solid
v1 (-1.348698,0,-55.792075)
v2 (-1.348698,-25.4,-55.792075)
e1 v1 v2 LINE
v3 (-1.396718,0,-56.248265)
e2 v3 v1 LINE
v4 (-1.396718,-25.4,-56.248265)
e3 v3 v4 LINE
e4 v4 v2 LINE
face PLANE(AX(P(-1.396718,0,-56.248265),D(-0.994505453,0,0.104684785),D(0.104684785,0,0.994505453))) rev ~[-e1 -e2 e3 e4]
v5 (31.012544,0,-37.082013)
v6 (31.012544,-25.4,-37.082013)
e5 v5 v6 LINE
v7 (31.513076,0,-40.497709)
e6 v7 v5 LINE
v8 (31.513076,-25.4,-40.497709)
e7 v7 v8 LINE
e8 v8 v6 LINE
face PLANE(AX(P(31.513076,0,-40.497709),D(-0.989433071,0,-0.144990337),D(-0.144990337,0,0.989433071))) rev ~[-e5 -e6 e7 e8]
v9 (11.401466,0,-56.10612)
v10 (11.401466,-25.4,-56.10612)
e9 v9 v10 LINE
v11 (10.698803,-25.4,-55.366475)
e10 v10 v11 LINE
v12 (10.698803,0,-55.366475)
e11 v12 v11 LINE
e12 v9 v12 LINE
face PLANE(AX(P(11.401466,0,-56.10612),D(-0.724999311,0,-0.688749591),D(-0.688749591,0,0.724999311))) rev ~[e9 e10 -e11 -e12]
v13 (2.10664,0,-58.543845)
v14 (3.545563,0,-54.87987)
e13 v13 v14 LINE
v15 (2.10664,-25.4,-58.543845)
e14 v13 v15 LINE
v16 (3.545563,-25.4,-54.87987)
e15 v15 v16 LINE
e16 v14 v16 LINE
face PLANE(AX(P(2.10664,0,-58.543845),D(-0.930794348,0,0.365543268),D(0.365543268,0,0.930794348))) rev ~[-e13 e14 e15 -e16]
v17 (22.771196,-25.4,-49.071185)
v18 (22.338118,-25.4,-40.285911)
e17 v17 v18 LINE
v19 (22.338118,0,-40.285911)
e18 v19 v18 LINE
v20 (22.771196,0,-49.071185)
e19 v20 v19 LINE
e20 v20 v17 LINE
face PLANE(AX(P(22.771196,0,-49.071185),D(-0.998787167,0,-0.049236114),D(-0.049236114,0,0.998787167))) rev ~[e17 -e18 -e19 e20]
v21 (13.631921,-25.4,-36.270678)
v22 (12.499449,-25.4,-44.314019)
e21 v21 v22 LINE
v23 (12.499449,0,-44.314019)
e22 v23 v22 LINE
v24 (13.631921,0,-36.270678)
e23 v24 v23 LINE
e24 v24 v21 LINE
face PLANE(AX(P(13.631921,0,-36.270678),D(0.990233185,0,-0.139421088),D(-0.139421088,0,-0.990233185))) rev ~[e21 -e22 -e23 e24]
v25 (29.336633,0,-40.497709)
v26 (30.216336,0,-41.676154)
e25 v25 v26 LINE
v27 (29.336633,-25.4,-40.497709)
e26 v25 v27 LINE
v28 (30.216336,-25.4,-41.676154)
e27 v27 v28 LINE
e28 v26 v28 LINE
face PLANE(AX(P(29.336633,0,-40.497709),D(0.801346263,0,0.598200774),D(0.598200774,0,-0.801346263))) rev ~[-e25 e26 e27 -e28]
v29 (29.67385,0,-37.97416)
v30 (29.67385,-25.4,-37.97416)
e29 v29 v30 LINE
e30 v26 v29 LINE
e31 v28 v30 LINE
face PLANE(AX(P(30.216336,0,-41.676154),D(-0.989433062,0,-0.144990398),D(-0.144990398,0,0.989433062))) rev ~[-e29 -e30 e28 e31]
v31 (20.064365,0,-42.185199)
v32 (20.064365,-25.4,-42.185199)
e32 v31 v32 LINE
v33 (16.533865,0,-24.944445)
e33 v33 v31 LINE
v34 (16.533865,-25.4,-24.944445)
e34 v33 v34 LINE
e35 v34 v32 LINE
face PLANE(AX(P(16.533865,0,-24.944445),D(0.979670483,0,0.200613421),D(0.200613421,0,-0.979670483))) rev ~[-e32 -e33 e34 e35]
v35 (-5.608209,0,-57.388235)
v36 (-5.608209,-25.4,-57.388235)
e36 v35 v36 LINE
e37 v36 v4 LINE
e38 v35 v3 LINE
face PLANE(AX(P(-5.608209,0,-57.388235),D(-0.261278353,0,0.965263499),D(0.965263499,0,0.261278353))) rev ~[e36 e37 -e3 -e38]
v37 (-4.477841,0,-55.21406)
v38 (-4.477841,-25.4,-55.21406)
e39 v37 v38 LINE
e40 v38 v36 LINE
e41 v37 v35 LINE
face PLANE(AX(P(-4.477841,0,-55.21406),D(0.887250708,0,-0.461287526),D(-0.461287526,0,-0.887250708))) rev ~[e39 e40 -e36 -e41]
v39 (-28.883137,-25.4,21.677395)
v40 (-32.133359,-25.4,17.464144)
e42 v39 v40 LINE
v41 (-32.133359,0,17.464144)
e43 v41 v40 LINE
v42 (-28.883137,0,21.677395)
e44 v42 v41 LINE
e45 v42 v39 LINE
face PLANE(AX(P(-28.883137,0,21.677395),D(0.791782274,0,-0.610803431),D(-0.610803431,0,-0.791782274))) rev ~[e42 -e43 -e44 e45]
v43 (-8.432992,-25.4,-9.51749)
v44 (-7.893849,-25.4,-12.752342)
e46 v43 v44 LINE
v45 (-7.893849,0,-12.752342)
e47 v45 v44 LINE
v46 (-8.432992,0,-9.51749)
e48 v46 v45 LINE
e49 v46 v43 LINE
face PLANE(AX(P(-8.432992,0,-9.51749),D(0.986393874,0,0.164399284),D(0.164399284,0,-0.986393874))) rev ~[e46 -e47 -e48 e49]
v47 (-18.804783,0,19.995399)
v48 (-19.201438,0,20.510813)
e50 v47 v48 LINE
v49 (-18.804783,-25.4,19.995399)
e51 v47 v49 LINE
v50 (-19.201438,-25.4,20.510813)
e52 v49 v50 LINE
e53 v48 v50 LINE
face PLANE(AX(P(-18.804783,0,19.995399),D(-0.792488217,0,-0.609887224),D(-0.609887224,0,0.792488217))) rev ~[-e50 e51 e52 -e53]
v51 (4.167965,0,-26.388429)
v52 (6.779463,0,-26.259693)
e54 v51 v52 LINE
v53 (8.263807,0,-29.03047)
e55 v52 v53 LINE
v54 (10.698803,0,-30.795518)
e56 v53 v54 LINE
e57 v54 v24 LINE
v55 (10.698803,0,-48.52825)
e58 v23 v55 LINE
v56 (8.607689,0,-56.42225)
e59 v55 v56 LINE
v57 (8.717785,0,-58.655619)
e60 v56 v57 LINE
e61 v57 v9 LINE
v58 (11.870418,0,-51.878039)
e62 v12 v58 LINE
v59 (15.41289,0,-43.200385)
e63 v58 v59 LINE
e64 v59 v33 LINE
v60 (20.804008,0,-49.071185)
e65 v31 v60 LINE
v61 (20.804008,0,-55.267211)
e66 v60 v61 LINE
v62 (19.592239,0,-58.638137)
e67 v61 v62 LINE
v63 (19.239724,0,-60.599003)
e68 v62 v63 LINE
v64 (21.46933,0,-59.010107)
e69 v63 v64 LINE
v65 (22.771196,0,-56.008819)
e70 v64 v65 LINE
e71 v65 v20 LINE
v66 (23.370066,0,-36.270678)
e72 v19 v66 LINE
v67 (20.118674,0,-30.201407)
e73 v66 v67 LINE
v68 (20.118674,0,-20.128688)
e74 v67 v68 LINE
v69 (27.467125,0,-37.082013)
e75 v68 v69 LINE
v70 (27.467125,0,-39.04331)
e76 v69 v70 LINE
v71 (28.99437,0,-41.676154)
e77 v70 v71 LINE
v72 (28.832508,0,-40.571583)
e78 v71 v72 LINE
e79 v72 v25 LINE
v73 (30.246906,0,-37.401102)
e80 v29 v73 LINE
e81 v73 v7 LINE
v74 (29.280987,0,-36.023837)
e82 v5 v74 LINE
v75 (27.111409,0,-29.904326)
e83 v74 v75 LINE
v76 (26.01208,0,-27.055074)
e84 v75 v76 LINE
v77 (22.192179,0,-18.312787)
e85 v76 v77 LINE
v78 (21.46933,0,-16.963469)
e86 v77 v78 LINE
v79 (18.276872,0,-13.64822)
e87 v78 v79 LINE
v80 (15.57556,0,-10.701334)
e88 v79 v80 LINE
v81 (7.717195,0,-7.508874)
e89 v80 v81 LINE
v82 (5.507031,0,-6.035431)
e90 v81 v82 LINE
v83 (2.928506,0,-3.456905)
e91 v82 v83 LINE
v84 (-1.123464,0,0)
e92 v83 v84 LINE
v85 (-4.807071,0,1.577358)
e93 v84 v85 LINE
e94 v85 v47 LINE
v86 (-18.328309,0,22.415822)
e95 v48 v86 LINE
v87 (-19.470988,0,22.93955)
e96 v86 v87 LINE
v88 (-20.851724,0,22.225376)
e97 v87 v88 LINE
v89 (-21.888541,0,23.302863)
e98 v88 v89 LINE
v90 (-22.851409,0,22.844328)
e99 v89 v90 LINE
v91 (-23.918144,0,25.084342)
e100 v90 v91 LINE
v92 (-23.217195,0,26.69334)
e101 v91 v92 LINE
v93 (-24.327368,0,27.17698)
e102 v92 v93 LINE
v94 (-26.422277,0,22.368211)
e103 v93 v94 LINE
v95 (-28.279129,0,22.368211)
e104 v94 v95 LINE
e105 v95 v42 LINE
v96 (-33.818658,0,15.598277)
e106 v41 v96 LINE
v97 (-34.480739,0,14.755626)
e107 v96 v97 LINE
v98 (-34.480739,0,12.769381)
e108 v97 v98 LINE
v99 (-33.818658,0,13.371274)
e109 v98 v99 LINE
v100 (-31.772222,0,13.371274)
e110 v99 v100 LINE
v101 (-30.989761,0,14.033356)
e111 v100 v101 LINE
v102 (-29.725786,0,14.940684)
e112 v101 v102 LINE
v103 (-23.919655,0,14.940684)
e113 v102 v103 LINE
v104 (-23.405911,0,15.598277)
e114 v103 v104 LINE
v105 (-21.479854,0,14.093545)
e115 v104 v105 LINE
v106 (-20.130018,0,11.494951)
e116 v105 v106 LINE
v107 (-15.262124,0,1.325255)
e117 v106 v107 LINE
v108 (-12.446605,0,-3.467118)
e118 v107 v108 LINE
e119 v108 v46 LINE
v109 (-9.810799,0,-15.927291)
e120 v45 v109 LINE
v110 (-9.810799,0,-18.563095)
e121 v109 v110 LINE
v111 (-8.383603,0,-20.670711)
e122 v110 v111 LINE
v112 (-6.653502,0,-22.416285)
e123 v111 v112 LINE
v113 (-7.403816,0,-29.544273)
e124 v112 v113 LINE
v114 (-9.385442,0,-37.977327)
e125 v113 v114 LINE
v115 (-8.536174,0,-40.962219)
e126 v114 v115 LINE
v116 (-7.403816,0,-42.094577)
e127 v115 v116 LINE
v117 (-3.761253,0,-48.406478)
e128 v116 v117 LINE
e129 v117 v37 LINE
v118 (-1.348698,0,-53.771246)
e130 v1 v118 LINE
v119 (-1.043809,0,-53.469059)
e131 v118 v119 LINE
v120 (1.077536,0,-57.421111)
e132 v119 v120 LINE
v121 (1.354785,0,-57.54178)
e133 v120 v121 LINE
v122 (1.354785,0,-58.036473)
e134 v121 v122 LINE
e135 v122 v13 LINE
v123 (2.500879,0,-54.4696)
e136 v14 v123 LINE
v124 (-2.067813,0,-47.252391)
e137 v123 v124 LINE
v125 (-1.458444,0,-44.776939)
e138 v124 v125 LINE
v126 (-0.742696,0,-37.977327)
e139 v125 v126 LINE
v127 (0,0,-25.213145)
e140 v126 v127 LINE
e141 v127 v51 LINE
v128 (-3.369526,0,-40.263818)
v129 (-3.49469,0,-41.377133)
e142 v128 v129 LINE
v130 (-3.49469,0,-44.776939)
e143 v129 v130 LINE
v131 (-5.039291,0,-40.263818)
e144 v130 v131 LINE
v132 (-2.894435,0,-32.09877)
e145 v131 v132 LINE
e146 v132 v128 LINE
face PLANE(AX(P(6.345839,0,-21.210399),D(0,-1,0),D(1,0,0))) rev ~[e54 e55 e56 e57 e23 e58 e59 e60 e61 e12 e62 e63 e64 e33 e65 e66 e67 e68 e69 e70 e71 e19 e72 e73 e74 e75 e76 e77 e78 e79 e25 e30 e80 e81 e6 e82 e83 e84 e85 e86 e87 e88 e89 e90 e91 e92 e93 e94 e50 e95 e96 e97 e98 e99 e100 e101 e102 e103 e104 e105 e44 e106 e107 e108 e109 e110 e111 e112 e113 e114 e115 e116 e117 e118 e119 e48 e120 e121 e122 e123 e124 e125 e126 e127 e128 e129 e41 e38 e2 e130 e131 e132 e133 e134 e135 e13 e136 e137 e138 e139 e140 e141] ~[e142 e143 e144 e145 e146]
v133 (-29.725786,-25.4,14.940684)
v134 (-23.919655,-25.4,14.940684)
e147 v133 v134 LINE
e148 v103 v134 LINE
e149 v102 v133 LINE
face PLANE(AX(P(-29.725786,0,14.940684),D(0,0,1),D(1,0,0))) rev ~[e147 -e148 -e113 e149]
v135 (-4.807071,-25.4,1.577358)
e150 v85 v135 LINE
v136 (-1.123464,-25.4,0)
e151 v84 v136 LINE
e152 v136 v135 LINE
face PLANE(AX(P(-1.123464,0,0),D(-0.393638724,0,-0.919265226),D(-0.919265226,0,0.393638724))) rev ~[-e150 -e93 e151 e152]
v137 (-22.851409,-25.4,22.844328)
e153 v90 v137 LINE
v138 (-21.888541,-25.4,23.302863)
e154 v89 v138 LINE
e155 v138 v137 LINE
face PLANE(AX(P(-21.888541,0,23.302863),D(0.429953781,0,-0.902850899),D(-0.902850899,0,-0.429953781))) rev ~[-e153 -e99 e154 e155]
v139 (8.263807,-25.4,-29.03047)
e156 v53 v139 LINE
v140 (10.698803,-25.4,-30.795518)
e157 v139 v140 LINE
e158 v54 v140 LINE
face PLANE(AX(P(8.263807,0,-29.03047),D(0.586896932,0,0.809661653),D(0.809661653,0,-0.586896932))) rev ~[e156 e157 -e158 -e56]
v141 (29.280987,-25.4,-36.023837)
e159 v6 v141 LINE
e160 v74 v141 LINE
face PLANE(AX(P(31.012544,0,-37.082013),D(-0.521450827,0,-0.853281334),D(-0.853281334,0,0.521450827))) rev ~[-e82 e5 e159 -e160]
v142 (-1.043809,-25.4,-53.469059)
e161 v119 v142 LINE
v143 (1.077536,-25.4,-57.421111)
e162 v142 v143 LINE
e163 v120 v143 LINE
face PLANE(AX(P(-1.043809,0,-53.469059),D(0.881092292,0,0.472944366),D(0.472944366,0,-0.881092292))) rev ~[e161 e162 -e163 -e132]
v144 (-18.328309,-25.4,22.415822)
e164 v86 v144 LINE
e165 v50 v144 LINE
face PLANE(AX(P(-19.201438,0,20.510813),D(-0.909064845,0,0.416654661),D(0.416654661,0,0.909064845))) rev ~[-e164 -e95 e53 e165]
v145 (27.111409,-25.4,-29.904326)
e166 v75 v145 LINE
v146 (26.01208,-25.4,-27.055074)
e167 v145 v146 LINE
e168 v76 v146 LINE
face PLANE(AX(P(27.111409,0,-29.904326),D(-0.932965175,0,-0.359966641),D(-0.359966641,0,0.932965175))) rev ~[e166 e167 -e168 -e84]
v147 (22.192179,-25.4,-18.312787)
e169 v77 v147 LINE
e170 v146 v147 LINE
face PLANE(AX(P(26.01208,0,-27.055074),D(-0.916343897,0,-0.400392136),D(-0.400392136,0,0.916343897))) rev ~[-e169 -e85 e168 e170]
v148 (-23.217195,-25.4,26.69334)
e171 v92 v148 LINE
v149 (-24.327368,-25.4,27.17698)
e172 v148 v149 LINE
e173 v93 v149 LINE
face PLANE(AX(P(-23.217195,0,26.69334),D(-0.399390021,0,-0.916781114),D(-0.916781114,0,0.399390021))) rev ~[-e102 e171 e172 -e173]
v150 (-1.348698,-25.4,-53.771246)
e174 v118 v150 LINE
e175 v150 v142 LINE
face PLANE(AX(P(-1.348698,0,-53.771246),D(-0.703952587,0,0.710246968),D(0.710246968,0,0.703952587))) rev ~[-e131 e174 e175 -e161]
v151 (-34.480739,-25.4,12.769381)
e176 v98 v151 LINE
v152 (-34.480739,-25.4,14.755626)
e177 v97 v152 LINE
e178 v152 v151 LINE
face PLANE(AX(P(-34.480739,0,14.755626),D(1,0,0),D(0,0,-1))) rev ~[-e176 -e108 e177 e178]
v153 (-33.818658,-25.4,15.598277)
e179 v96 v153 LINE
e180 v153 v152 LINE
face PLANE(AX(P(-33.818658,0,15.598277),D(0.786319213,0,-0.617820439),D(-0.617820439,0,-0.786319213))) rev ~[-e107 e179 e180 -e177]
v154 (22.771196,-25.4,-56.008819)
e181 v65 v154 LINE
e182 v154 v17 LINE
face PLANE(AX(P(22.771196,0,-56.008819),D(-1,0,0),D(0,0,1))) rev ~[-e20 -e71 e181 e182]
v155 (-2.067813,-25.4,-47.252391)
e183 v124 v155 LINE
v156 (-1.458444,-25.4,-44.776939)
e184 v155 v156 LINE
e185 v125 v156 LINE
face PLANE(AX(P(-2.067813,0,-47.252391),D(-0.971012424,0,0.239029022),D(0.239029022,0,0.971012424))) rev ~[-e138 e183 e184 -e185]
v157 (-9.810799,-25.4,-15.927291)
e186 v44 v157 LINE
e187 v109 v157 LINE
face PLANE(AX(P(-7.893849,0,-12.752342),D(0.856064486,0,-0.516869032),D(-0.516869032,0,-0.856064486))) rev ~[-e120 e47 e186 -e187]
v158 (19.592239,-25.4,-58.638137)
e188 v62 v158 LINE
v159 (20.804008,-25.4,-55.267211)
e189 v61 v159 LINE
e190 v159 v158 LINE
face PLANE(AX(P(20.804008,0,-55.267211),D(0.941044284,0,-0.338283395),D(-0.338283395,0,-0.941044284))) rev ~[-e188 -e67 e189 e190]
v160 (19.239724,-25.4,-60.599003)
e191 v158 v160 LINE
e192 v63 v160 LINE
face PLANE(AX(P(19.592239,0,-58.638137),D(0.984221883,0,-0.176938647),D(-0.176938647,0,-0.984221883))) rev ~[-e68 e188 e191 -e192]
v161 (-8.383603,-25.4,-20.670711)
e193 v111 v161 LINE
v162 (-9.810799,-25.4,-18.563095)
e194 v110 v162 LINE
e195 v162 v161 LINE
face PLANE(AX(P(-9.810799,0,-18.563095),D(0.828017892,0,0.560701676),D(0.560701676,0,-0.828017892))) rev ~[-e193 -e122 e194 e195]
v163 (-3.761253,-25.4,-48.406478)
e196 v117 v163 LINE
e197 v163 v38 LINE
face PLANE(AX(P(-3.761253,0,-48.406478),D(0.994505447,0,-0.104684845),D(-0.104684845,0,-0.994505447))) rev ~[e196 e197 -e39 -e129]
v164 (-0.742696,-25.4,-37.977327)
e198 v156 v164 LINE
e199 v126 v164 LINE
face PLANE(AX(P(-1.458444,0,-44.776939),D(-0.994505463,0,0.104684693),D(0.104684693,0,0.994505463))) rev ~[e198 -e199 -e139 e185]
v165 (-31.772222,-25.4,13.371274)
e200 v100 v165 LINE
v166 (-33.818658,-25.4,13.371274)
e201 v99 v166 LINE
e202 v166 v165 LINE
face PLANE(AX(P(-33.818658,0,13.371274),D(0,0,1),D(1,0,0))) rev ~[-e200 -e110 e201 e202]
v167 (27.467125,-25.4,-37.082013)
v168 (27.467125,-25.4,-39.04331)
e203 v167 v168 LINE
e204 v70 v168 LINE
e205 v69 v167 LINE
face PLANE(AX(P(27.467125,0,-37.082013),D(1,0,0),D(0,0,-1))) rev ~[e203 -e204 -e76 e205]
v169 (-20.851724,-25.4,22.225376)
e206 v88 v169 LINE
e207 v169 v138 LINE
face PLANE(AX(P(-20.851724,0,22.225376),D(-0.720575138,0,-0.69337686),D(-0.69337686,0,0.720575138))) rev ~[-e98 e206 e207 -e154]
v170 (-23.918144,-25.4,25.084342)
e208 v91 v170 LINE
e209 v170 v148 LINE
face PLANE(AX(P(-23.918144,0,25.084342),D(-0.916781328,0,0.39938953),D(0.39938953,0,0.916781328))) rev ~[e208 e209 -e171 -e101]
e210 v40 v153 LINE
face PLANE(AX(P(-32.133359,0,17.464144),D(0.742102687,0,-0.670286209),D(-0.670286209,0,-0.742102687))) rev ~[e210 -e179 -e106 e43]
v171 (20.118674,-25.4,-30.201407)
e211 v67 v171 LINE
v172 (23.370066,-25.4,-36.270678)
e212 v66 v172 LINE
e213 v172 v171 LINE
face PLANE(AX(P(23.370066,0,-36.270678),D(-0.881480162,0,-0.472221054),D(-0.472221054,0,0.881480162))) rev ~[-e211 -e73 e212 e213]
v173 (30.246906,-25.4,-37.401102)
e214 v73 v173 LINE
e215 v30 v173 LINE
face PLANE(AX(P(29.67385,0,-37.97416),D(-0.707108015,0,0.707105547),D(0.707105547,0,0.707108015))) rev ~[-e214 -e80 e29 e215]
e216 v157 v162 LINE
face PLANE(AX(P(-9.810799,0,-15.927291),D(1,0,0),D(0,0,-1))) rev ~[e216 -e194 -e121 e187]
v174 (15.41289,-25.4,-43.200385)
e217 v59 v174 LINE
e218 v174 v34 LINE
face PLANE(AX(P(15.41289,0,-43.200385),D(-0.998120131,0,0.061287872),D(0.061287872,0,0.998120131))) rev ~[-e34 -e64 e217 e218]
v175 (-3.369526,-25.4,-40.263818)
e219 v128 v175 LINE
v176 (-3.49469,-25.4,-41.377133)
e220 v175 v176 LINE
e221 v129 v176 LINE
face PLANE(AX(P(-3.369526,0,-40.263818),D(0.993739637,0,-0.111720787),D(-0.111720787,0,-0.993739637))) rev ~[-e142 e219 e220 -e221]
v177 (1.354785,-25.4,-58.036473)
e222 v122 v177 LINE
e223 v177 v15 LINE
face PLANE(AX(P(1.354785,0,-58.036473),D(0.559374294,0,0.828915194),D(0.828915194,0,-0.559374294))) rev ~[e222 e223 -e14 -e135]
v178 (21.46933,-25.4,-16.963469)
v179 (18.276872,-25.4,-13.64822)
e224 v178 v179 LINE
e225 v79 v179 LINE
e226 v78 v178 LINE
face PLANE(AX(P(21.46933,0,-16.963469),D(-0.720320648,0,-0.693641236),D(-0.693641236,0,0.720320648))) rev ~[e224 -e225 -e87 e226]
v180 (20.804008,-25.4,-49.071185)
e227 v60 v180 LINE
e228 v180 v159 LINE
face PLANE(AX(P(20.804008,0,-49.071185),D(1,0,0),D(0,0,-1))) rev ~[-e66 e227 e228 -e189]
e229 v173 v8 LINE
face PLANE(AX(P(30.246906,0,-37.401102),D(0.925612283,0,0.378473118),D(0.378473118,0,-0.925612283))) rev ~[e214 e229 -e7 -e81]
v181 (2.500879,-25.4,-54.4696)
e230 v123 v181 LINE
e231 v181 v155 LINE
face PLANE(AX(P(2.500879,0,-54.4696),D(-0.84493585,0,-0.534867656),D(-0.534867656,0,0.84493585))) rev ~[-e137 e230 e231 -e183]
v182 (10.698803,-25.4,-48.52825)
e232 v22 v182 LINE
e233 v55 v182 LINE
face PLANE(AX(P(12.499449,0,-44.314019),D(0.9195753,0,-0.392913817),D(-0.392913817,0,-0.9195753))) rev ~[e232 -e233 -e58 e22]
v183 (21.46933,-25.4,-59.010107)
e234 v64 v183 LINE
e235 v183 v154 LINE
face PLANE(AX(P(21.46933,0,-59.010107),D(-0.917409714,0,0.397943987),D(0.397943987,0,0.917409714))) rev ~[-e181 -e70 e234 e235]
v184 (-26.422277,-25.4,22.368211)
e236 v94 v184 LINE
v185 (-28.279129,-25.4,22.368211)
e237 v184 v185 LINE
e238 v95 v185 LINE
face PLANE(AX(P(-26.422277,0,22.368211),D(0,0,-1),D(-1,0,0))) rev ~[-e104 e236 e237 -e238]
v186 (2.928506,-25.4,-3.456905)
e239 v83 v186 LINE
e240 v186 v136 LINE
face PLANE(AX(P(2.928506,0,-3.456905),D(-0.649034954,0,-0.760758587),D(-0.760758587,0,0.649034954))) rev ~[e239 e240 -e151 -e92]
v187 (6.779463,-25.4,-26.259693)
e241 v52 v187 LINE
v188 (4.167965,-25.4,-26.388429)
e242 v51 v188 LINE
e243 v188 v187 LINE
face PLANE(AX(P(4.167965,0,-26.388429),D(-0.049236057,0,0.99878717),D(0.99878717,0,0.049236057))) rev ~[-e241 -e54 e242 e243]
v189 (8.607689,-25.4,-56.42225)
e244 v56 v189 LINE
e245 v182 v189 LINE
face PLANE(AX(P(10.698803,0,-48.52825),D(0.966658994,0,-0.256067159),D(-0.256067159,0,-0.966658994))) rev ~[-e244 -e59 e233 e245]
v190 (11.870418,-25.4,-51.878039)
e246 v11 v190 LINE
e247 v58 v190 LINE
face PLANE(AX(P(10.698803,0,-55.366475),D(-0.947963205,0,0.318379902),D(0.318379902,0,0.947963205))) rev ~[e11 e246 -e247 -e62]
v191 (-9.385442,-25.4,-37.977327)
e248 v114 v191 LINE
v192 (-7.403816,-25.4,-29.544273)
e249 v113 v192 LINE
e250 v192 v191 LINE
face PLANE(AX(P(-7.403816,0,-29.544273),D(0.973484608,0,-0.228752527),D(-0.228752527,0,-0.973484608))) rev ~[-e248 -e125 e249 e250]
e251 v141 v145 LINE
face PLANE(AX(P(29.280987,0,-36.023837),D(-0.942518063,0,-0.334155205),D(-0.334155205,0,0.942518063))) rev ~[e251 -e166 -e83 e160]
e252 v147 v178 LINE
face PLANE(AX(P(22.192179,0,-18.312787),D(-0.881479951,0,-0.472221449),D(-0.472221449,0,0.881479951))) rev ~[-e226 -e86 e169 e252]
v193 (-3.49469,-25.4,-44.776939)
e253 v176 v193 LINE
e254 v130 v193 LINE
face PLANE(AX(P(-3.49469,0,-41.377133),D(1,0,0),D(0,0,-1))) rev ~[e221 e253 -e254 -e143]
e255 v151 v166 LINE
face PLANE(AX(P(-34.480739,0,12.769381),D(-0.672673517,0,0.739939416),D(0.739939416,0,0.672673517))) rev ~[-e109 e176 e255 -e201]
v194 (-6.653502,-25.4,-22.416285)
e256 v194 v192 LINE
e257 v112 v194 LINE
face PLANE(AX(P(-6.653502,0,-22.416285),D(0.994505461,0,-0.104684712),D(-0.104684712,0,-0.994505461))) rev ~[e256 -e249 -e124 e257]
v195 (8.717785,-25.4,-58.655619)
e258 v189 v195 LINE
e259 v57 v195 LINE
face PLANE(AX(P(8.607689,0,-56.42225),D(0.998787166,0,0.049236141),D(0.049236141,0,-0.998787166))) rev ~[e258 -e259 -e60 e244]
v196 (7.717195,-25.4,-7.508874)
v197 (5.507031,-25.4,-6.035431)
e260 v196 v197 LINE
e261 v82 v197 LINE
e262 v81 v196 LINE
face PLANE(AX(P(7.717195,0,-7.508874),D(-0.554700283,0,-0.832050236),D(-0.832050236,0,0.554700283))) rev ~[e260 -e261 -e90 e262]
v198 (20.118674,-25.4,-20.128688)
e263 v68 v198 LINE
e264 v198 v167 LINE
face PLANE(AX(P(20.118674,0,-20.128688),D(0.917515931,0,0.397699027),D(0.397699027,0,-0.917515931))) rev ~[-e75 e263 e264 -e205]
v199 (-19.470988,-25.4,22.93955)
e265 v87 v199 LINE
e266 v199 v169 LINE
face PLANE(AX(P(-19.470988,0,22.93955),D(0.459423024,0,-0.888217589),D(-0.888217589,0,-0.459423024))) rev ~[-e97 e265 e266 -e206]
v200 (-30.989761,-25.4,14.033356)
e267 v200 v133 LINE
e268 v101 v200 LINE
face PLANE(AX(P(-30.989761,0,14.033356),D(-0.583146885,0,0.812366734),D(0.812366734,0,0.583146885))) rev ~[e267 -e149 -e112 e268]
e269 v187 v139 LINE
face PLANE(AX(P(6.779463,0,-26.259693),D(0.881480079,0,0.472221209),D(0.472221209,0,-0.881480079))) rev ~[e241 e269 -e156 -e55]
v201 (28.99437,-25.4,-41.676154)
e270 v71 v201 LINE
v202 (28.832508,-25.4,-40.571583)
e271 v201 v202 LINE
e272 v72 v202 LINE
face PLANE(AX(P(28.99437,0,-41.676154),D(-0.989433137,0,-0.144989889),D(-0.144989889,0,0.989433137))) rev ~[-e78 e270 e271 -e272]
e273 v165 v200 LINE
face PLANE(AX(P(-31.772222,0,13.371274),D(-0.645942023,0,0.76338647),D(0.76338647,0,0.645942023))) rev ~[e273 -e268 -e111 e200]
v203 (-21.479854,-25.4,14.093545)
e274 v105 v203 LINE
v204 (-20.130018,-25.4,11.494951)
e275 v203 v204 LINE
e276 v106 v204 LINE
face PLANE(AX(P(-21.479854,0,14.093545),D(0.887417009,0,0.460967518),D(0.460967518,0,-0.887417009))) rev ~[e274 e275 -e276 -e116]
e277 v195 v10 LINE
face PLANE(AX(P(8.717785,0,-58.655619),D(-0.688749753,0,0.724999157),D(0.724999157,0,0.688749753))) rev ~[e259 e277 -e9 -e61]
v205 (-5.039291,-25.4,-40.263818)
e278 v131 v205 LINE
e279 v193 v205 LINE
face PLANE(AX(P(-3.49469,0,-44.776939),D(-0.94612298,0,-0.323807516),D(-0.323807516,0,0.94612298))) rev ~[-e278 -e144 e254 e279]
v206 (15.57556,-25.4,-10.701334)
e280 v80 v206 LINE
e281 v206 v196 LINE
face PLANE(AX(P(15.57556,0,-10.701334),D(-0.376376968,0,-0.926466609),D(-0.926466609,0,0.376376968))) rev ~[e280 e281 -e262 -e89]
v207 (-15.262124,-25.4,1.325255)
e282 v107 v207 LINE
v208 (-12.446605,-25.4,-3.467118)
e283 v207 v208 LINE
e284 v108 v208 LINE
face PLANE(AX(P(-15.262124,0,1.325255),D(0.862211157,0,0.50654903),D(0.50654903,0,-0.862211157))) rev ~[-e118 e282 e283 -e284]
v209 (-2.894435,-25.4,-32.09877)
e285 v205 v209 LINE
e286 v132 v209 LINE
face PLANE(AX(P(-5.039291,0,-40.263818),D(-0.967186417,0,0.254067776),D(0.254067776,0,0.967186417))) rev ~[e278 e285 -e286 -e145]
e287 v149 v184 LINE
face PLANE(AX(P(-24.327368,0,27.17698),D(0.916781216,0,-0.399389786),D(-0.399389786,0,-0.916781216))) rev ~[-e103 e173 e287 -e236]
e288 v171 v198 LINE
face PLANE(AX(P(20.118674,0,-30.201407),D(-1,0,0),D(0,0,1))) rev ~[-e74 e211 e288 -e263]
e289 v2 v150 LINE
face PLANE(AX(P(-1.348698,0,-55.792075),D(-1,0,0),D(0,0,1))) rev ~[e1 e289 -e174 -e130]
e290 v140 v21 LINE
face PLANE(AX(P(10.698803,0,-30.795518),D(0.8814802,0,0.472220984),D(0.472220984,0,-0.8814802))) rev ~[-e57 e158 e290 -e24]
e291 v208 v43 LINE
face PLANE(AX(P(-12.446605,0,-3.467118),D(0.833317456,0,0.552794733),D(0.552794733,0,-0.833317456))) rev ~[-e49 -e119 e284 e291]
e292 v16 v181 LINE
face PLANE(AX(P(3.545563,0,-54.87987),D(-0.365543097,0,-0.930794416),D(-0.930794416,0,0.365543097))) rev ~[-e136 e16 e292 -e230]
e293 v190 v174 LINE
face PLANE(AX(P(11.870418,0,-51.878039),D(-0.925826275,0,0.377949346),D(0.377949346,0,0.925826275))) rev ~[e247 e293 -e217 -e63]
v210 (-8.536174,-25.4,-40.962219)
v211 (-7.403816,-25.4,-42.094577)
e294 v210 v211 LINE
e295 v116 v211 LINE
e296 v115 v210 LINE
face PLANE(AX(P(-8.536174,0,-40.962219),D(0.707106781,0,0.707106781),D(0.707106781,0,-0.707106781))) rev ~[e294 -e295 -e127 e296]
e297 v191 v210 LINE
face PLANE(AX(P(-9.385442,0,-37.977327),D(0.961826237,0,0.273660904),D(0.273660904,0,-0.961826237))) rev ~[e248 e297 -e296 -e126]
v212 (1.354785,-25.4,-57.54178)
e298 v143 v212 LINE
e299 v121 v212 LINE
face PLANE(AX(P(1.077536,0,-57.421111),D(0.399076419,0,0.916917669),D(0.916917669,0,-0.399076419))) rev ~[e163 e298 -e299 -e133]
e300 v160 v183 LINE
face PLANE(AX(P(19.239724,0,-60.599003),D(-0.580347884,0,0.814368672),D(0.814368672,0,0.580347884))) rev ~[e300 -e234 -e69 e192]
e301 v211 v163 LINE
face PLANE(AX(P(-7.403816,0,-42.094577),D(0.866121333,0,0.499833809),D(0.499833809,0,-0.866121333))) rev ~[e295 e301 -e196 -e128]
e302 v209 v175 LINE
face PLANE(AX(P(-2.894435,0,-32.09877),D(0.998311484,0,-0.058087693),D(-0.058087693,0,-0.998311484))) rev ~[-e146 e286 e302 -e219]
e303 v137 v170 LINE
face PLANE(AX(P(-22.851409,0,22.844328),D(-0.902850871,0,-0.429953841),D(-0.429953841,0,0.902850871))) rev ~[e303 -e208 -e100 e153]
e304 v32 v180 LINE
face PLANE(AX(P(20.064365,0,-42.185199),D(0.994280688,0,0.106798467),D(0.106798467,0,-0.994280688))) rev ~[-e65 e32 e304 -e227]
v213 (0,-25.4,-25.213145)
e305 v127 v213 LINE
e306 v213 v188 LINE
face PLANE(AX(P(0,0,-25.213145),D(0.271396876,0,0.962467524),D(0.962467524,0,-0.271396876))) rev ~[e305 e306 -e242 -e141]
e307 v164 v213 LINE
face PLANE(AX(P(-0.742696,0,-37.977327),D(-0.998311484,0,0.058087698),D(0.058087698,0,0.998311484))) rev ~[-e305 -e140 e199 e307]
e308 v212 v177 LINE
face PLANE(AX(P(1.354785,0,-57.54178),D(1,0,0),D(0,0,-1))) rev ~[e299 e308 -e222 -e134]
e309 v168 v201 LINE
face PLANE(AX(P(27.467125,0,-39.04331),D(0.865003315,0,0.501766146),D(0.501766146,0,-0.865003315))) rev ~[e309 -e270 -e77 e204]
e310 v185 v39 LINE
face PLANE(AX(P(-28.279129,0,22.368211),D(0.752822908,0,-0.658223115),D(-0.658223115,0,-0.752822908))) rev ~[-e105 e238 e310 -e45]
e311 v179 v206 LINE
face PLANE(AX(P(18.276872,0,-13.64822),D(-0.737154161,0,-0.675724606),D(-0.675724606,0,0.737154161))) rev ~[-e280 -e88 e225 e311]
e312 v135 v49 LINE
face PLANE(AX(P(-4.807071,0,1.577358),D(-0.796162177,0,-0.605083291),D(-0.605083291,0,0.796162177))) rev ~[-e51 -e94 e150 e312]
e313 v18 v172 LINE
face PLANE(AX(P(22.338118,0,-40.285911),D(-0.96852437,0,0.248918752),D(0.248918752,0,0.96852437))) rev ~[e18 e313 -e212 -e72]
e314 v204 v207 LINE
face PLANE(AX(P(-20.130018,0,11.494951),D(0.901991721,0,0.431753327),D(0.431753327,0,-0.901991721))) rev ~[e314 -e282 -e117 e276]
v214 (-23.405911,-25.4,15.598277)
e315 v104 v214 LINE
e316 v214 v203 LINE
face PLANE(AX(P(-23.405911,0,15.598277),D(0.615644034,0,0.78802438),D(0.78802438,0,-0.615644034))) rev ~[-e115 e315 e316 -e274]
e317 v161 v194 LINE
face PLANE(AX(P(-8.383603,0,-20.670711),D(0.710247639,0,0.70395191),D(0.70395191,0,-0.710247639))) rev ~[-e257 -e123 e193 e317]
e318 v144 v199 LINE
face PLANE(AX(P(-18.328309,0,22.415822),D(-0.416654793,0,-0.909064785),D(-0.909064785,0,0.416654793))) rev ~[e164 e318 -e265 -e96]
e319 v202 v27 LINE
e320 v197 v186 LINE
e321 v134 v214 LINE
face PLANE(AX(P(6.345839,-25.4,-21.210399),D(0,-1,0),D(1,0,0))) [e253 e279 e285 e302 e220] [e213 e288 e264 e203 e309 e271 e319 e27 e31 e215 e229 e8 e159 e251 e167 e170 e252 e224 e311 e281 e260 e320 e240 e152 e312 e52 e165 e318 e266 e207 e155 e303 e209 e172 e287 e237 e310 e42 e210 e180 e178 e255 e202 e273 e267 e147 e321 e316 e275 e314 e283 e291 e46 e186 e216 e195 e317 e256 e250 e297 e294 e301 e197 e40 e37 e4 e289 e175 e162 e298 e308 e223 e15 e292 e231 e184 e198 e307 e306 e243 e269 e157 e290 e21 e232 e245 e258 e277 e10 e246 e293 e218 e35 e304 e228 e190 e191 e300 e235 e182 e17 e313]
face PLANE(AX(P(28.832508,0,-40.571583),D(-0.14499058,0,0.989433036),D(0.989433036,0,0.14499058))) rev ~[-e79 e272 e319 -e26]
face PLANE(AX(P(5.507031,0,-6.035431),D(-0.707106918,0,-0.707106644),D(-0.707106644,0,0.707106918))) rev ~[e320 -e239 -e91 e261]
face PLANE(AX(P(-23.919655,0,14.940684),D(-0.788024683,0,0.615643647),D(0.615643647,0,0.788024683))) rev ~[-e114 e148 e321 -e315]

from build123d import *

# Parameters (mm, degrees)
F1_DEPTH = 25.4


with BuildPart() as f1:
    # F0 (on Front) → F1 (new body)
    with BuildSketch(Plane.XZ):
        Polygon((-4.807071, 1.577358), (-18.804783, 19.995399), (-19.201438, 20.510813), (-18.328309, 22.415822), (-19.470988, 22.93955), (-20.851724, 22.225376), (-21.888541, 23.302863), (-22.851409, 22.844328), (-23.918144, 25.084342), (-23.217195, 26.69334), (-24.327368, 27.17698), (-26.422277, 22.368211), (-28.279129, 22.368211), (-28.883137, 21.677395), (-32.133359, 17.464144), (-33.818658, 15.598277), (-34.480739, 14.755626), (-34.480739, 12.769381), (-33.818658, 13.371274), (-31.772222, 13.371274), (-30.989761, 14.033356), (-29.725786, 14.940684), (-26.475566, 14.940684), (-23.919655, 14.940684), (-23.405911, 15.598277), (-21.479854, 14.093545), (-20.130018, 11.494951), (-15.262124, 1.325255), (-12.446605, -3.467118), (-8.432992, -9.51749), (-7.893849, -12.752342), (-9.810799, -15.927291), (-9.810799, -18.563095), (-8.383603, -20.670711), (-6.653502, -22.416285), (0, -25.213145), (4.167965, -26.388429), (6.779463, -26.259693), (8.263807, -29.03047), (10.698803, -30.795518), (13.631921, -36.270678), (12.499449, -44.314019), (10.698803, -48.52825), (8.607689, -56.42225), (8.717785, -58.655619), (11.401466, -56.10612), (10.698803, -55.366475), (11.870418, -51.878039), (15.41289, -43.200385), (16.533865, -24.944445), (20.064365, -42.185199), (20.804008, -49.071185), (20.804008, -52.51319), (20.804008, -55.267211), (19.592239, -58.638137), (19.239724, -60.599003), (21.46933, -59.010107), (22.771196, -56.008819), (22.771196, -49.071185), (22.338118, -40.285911), (23.370066, -36.270678), (20.118674, -30.201407), (20.118674, -27.645931), (20.118674, -20.128688), (27.467125, -37.082013), (27.467125, -39.04331), (28.99437, -41.676154), (28.832508, -40.571583), (29.336633, -40.497709), (30.216336, -41.676154), (29.67385, -37.97416), (30.246906, -37.401102), (31.513076, -40.497709), (31.012544, -37.082013), (29.280987, -36.023837), (27.111409, -29.904326), (26.01208, -27.055074), (22.192179, -18.312787), (21.46933, -16.963469), (18.276872, -13.64822), (15.57556, -10.701334), (7.717195, -7.508874), (5.507031, -6.035431), (2.928506, -3.456905), (-1.123464, 0), align=None)
        Polygon((0, -25.213145), (-6.653502, -22.416285), (-7.403816, -29.544273), (-9.385442, -37.977327), (-8.536174, -40.962219), (-7.403816, -42.094577), (-3.761253, -48.406478), (-1.043809, -53.469059), (1.077536, -57.421111), (1.354785, -57.54178), (1.354785, -58.036473), (2.10664, -58.543845), (3.545563, -54.87987), (2.500879, -54.4696), (-2.067813, -47.252391), (-3.49469, -44.776939), (-5.039291, -40.263818), (-2.894435, -32.09877), align=None)
        Polygon((-0.742696, -37.977327), (0, -25.213145), (-2.894435, -32.09877), (-3.369526, -40.263818), (-3.49469, -41.377133), (-3.49469, -44.776939), (-2.067813, -47.252391), (-1.458444, -44.776939), align=None)
        Polygon((-1.043809, -53.469059), (-3.761253, -48.406478), (-4.477841, -55.21406), (-5.608209, -57.388235), (-1.396718, -56.248265), (-1.348698, -55.792075), (-1.348698, -53.771246), align=None)
    extrude(amount=F1_DEPTH)


solid = f1.part
